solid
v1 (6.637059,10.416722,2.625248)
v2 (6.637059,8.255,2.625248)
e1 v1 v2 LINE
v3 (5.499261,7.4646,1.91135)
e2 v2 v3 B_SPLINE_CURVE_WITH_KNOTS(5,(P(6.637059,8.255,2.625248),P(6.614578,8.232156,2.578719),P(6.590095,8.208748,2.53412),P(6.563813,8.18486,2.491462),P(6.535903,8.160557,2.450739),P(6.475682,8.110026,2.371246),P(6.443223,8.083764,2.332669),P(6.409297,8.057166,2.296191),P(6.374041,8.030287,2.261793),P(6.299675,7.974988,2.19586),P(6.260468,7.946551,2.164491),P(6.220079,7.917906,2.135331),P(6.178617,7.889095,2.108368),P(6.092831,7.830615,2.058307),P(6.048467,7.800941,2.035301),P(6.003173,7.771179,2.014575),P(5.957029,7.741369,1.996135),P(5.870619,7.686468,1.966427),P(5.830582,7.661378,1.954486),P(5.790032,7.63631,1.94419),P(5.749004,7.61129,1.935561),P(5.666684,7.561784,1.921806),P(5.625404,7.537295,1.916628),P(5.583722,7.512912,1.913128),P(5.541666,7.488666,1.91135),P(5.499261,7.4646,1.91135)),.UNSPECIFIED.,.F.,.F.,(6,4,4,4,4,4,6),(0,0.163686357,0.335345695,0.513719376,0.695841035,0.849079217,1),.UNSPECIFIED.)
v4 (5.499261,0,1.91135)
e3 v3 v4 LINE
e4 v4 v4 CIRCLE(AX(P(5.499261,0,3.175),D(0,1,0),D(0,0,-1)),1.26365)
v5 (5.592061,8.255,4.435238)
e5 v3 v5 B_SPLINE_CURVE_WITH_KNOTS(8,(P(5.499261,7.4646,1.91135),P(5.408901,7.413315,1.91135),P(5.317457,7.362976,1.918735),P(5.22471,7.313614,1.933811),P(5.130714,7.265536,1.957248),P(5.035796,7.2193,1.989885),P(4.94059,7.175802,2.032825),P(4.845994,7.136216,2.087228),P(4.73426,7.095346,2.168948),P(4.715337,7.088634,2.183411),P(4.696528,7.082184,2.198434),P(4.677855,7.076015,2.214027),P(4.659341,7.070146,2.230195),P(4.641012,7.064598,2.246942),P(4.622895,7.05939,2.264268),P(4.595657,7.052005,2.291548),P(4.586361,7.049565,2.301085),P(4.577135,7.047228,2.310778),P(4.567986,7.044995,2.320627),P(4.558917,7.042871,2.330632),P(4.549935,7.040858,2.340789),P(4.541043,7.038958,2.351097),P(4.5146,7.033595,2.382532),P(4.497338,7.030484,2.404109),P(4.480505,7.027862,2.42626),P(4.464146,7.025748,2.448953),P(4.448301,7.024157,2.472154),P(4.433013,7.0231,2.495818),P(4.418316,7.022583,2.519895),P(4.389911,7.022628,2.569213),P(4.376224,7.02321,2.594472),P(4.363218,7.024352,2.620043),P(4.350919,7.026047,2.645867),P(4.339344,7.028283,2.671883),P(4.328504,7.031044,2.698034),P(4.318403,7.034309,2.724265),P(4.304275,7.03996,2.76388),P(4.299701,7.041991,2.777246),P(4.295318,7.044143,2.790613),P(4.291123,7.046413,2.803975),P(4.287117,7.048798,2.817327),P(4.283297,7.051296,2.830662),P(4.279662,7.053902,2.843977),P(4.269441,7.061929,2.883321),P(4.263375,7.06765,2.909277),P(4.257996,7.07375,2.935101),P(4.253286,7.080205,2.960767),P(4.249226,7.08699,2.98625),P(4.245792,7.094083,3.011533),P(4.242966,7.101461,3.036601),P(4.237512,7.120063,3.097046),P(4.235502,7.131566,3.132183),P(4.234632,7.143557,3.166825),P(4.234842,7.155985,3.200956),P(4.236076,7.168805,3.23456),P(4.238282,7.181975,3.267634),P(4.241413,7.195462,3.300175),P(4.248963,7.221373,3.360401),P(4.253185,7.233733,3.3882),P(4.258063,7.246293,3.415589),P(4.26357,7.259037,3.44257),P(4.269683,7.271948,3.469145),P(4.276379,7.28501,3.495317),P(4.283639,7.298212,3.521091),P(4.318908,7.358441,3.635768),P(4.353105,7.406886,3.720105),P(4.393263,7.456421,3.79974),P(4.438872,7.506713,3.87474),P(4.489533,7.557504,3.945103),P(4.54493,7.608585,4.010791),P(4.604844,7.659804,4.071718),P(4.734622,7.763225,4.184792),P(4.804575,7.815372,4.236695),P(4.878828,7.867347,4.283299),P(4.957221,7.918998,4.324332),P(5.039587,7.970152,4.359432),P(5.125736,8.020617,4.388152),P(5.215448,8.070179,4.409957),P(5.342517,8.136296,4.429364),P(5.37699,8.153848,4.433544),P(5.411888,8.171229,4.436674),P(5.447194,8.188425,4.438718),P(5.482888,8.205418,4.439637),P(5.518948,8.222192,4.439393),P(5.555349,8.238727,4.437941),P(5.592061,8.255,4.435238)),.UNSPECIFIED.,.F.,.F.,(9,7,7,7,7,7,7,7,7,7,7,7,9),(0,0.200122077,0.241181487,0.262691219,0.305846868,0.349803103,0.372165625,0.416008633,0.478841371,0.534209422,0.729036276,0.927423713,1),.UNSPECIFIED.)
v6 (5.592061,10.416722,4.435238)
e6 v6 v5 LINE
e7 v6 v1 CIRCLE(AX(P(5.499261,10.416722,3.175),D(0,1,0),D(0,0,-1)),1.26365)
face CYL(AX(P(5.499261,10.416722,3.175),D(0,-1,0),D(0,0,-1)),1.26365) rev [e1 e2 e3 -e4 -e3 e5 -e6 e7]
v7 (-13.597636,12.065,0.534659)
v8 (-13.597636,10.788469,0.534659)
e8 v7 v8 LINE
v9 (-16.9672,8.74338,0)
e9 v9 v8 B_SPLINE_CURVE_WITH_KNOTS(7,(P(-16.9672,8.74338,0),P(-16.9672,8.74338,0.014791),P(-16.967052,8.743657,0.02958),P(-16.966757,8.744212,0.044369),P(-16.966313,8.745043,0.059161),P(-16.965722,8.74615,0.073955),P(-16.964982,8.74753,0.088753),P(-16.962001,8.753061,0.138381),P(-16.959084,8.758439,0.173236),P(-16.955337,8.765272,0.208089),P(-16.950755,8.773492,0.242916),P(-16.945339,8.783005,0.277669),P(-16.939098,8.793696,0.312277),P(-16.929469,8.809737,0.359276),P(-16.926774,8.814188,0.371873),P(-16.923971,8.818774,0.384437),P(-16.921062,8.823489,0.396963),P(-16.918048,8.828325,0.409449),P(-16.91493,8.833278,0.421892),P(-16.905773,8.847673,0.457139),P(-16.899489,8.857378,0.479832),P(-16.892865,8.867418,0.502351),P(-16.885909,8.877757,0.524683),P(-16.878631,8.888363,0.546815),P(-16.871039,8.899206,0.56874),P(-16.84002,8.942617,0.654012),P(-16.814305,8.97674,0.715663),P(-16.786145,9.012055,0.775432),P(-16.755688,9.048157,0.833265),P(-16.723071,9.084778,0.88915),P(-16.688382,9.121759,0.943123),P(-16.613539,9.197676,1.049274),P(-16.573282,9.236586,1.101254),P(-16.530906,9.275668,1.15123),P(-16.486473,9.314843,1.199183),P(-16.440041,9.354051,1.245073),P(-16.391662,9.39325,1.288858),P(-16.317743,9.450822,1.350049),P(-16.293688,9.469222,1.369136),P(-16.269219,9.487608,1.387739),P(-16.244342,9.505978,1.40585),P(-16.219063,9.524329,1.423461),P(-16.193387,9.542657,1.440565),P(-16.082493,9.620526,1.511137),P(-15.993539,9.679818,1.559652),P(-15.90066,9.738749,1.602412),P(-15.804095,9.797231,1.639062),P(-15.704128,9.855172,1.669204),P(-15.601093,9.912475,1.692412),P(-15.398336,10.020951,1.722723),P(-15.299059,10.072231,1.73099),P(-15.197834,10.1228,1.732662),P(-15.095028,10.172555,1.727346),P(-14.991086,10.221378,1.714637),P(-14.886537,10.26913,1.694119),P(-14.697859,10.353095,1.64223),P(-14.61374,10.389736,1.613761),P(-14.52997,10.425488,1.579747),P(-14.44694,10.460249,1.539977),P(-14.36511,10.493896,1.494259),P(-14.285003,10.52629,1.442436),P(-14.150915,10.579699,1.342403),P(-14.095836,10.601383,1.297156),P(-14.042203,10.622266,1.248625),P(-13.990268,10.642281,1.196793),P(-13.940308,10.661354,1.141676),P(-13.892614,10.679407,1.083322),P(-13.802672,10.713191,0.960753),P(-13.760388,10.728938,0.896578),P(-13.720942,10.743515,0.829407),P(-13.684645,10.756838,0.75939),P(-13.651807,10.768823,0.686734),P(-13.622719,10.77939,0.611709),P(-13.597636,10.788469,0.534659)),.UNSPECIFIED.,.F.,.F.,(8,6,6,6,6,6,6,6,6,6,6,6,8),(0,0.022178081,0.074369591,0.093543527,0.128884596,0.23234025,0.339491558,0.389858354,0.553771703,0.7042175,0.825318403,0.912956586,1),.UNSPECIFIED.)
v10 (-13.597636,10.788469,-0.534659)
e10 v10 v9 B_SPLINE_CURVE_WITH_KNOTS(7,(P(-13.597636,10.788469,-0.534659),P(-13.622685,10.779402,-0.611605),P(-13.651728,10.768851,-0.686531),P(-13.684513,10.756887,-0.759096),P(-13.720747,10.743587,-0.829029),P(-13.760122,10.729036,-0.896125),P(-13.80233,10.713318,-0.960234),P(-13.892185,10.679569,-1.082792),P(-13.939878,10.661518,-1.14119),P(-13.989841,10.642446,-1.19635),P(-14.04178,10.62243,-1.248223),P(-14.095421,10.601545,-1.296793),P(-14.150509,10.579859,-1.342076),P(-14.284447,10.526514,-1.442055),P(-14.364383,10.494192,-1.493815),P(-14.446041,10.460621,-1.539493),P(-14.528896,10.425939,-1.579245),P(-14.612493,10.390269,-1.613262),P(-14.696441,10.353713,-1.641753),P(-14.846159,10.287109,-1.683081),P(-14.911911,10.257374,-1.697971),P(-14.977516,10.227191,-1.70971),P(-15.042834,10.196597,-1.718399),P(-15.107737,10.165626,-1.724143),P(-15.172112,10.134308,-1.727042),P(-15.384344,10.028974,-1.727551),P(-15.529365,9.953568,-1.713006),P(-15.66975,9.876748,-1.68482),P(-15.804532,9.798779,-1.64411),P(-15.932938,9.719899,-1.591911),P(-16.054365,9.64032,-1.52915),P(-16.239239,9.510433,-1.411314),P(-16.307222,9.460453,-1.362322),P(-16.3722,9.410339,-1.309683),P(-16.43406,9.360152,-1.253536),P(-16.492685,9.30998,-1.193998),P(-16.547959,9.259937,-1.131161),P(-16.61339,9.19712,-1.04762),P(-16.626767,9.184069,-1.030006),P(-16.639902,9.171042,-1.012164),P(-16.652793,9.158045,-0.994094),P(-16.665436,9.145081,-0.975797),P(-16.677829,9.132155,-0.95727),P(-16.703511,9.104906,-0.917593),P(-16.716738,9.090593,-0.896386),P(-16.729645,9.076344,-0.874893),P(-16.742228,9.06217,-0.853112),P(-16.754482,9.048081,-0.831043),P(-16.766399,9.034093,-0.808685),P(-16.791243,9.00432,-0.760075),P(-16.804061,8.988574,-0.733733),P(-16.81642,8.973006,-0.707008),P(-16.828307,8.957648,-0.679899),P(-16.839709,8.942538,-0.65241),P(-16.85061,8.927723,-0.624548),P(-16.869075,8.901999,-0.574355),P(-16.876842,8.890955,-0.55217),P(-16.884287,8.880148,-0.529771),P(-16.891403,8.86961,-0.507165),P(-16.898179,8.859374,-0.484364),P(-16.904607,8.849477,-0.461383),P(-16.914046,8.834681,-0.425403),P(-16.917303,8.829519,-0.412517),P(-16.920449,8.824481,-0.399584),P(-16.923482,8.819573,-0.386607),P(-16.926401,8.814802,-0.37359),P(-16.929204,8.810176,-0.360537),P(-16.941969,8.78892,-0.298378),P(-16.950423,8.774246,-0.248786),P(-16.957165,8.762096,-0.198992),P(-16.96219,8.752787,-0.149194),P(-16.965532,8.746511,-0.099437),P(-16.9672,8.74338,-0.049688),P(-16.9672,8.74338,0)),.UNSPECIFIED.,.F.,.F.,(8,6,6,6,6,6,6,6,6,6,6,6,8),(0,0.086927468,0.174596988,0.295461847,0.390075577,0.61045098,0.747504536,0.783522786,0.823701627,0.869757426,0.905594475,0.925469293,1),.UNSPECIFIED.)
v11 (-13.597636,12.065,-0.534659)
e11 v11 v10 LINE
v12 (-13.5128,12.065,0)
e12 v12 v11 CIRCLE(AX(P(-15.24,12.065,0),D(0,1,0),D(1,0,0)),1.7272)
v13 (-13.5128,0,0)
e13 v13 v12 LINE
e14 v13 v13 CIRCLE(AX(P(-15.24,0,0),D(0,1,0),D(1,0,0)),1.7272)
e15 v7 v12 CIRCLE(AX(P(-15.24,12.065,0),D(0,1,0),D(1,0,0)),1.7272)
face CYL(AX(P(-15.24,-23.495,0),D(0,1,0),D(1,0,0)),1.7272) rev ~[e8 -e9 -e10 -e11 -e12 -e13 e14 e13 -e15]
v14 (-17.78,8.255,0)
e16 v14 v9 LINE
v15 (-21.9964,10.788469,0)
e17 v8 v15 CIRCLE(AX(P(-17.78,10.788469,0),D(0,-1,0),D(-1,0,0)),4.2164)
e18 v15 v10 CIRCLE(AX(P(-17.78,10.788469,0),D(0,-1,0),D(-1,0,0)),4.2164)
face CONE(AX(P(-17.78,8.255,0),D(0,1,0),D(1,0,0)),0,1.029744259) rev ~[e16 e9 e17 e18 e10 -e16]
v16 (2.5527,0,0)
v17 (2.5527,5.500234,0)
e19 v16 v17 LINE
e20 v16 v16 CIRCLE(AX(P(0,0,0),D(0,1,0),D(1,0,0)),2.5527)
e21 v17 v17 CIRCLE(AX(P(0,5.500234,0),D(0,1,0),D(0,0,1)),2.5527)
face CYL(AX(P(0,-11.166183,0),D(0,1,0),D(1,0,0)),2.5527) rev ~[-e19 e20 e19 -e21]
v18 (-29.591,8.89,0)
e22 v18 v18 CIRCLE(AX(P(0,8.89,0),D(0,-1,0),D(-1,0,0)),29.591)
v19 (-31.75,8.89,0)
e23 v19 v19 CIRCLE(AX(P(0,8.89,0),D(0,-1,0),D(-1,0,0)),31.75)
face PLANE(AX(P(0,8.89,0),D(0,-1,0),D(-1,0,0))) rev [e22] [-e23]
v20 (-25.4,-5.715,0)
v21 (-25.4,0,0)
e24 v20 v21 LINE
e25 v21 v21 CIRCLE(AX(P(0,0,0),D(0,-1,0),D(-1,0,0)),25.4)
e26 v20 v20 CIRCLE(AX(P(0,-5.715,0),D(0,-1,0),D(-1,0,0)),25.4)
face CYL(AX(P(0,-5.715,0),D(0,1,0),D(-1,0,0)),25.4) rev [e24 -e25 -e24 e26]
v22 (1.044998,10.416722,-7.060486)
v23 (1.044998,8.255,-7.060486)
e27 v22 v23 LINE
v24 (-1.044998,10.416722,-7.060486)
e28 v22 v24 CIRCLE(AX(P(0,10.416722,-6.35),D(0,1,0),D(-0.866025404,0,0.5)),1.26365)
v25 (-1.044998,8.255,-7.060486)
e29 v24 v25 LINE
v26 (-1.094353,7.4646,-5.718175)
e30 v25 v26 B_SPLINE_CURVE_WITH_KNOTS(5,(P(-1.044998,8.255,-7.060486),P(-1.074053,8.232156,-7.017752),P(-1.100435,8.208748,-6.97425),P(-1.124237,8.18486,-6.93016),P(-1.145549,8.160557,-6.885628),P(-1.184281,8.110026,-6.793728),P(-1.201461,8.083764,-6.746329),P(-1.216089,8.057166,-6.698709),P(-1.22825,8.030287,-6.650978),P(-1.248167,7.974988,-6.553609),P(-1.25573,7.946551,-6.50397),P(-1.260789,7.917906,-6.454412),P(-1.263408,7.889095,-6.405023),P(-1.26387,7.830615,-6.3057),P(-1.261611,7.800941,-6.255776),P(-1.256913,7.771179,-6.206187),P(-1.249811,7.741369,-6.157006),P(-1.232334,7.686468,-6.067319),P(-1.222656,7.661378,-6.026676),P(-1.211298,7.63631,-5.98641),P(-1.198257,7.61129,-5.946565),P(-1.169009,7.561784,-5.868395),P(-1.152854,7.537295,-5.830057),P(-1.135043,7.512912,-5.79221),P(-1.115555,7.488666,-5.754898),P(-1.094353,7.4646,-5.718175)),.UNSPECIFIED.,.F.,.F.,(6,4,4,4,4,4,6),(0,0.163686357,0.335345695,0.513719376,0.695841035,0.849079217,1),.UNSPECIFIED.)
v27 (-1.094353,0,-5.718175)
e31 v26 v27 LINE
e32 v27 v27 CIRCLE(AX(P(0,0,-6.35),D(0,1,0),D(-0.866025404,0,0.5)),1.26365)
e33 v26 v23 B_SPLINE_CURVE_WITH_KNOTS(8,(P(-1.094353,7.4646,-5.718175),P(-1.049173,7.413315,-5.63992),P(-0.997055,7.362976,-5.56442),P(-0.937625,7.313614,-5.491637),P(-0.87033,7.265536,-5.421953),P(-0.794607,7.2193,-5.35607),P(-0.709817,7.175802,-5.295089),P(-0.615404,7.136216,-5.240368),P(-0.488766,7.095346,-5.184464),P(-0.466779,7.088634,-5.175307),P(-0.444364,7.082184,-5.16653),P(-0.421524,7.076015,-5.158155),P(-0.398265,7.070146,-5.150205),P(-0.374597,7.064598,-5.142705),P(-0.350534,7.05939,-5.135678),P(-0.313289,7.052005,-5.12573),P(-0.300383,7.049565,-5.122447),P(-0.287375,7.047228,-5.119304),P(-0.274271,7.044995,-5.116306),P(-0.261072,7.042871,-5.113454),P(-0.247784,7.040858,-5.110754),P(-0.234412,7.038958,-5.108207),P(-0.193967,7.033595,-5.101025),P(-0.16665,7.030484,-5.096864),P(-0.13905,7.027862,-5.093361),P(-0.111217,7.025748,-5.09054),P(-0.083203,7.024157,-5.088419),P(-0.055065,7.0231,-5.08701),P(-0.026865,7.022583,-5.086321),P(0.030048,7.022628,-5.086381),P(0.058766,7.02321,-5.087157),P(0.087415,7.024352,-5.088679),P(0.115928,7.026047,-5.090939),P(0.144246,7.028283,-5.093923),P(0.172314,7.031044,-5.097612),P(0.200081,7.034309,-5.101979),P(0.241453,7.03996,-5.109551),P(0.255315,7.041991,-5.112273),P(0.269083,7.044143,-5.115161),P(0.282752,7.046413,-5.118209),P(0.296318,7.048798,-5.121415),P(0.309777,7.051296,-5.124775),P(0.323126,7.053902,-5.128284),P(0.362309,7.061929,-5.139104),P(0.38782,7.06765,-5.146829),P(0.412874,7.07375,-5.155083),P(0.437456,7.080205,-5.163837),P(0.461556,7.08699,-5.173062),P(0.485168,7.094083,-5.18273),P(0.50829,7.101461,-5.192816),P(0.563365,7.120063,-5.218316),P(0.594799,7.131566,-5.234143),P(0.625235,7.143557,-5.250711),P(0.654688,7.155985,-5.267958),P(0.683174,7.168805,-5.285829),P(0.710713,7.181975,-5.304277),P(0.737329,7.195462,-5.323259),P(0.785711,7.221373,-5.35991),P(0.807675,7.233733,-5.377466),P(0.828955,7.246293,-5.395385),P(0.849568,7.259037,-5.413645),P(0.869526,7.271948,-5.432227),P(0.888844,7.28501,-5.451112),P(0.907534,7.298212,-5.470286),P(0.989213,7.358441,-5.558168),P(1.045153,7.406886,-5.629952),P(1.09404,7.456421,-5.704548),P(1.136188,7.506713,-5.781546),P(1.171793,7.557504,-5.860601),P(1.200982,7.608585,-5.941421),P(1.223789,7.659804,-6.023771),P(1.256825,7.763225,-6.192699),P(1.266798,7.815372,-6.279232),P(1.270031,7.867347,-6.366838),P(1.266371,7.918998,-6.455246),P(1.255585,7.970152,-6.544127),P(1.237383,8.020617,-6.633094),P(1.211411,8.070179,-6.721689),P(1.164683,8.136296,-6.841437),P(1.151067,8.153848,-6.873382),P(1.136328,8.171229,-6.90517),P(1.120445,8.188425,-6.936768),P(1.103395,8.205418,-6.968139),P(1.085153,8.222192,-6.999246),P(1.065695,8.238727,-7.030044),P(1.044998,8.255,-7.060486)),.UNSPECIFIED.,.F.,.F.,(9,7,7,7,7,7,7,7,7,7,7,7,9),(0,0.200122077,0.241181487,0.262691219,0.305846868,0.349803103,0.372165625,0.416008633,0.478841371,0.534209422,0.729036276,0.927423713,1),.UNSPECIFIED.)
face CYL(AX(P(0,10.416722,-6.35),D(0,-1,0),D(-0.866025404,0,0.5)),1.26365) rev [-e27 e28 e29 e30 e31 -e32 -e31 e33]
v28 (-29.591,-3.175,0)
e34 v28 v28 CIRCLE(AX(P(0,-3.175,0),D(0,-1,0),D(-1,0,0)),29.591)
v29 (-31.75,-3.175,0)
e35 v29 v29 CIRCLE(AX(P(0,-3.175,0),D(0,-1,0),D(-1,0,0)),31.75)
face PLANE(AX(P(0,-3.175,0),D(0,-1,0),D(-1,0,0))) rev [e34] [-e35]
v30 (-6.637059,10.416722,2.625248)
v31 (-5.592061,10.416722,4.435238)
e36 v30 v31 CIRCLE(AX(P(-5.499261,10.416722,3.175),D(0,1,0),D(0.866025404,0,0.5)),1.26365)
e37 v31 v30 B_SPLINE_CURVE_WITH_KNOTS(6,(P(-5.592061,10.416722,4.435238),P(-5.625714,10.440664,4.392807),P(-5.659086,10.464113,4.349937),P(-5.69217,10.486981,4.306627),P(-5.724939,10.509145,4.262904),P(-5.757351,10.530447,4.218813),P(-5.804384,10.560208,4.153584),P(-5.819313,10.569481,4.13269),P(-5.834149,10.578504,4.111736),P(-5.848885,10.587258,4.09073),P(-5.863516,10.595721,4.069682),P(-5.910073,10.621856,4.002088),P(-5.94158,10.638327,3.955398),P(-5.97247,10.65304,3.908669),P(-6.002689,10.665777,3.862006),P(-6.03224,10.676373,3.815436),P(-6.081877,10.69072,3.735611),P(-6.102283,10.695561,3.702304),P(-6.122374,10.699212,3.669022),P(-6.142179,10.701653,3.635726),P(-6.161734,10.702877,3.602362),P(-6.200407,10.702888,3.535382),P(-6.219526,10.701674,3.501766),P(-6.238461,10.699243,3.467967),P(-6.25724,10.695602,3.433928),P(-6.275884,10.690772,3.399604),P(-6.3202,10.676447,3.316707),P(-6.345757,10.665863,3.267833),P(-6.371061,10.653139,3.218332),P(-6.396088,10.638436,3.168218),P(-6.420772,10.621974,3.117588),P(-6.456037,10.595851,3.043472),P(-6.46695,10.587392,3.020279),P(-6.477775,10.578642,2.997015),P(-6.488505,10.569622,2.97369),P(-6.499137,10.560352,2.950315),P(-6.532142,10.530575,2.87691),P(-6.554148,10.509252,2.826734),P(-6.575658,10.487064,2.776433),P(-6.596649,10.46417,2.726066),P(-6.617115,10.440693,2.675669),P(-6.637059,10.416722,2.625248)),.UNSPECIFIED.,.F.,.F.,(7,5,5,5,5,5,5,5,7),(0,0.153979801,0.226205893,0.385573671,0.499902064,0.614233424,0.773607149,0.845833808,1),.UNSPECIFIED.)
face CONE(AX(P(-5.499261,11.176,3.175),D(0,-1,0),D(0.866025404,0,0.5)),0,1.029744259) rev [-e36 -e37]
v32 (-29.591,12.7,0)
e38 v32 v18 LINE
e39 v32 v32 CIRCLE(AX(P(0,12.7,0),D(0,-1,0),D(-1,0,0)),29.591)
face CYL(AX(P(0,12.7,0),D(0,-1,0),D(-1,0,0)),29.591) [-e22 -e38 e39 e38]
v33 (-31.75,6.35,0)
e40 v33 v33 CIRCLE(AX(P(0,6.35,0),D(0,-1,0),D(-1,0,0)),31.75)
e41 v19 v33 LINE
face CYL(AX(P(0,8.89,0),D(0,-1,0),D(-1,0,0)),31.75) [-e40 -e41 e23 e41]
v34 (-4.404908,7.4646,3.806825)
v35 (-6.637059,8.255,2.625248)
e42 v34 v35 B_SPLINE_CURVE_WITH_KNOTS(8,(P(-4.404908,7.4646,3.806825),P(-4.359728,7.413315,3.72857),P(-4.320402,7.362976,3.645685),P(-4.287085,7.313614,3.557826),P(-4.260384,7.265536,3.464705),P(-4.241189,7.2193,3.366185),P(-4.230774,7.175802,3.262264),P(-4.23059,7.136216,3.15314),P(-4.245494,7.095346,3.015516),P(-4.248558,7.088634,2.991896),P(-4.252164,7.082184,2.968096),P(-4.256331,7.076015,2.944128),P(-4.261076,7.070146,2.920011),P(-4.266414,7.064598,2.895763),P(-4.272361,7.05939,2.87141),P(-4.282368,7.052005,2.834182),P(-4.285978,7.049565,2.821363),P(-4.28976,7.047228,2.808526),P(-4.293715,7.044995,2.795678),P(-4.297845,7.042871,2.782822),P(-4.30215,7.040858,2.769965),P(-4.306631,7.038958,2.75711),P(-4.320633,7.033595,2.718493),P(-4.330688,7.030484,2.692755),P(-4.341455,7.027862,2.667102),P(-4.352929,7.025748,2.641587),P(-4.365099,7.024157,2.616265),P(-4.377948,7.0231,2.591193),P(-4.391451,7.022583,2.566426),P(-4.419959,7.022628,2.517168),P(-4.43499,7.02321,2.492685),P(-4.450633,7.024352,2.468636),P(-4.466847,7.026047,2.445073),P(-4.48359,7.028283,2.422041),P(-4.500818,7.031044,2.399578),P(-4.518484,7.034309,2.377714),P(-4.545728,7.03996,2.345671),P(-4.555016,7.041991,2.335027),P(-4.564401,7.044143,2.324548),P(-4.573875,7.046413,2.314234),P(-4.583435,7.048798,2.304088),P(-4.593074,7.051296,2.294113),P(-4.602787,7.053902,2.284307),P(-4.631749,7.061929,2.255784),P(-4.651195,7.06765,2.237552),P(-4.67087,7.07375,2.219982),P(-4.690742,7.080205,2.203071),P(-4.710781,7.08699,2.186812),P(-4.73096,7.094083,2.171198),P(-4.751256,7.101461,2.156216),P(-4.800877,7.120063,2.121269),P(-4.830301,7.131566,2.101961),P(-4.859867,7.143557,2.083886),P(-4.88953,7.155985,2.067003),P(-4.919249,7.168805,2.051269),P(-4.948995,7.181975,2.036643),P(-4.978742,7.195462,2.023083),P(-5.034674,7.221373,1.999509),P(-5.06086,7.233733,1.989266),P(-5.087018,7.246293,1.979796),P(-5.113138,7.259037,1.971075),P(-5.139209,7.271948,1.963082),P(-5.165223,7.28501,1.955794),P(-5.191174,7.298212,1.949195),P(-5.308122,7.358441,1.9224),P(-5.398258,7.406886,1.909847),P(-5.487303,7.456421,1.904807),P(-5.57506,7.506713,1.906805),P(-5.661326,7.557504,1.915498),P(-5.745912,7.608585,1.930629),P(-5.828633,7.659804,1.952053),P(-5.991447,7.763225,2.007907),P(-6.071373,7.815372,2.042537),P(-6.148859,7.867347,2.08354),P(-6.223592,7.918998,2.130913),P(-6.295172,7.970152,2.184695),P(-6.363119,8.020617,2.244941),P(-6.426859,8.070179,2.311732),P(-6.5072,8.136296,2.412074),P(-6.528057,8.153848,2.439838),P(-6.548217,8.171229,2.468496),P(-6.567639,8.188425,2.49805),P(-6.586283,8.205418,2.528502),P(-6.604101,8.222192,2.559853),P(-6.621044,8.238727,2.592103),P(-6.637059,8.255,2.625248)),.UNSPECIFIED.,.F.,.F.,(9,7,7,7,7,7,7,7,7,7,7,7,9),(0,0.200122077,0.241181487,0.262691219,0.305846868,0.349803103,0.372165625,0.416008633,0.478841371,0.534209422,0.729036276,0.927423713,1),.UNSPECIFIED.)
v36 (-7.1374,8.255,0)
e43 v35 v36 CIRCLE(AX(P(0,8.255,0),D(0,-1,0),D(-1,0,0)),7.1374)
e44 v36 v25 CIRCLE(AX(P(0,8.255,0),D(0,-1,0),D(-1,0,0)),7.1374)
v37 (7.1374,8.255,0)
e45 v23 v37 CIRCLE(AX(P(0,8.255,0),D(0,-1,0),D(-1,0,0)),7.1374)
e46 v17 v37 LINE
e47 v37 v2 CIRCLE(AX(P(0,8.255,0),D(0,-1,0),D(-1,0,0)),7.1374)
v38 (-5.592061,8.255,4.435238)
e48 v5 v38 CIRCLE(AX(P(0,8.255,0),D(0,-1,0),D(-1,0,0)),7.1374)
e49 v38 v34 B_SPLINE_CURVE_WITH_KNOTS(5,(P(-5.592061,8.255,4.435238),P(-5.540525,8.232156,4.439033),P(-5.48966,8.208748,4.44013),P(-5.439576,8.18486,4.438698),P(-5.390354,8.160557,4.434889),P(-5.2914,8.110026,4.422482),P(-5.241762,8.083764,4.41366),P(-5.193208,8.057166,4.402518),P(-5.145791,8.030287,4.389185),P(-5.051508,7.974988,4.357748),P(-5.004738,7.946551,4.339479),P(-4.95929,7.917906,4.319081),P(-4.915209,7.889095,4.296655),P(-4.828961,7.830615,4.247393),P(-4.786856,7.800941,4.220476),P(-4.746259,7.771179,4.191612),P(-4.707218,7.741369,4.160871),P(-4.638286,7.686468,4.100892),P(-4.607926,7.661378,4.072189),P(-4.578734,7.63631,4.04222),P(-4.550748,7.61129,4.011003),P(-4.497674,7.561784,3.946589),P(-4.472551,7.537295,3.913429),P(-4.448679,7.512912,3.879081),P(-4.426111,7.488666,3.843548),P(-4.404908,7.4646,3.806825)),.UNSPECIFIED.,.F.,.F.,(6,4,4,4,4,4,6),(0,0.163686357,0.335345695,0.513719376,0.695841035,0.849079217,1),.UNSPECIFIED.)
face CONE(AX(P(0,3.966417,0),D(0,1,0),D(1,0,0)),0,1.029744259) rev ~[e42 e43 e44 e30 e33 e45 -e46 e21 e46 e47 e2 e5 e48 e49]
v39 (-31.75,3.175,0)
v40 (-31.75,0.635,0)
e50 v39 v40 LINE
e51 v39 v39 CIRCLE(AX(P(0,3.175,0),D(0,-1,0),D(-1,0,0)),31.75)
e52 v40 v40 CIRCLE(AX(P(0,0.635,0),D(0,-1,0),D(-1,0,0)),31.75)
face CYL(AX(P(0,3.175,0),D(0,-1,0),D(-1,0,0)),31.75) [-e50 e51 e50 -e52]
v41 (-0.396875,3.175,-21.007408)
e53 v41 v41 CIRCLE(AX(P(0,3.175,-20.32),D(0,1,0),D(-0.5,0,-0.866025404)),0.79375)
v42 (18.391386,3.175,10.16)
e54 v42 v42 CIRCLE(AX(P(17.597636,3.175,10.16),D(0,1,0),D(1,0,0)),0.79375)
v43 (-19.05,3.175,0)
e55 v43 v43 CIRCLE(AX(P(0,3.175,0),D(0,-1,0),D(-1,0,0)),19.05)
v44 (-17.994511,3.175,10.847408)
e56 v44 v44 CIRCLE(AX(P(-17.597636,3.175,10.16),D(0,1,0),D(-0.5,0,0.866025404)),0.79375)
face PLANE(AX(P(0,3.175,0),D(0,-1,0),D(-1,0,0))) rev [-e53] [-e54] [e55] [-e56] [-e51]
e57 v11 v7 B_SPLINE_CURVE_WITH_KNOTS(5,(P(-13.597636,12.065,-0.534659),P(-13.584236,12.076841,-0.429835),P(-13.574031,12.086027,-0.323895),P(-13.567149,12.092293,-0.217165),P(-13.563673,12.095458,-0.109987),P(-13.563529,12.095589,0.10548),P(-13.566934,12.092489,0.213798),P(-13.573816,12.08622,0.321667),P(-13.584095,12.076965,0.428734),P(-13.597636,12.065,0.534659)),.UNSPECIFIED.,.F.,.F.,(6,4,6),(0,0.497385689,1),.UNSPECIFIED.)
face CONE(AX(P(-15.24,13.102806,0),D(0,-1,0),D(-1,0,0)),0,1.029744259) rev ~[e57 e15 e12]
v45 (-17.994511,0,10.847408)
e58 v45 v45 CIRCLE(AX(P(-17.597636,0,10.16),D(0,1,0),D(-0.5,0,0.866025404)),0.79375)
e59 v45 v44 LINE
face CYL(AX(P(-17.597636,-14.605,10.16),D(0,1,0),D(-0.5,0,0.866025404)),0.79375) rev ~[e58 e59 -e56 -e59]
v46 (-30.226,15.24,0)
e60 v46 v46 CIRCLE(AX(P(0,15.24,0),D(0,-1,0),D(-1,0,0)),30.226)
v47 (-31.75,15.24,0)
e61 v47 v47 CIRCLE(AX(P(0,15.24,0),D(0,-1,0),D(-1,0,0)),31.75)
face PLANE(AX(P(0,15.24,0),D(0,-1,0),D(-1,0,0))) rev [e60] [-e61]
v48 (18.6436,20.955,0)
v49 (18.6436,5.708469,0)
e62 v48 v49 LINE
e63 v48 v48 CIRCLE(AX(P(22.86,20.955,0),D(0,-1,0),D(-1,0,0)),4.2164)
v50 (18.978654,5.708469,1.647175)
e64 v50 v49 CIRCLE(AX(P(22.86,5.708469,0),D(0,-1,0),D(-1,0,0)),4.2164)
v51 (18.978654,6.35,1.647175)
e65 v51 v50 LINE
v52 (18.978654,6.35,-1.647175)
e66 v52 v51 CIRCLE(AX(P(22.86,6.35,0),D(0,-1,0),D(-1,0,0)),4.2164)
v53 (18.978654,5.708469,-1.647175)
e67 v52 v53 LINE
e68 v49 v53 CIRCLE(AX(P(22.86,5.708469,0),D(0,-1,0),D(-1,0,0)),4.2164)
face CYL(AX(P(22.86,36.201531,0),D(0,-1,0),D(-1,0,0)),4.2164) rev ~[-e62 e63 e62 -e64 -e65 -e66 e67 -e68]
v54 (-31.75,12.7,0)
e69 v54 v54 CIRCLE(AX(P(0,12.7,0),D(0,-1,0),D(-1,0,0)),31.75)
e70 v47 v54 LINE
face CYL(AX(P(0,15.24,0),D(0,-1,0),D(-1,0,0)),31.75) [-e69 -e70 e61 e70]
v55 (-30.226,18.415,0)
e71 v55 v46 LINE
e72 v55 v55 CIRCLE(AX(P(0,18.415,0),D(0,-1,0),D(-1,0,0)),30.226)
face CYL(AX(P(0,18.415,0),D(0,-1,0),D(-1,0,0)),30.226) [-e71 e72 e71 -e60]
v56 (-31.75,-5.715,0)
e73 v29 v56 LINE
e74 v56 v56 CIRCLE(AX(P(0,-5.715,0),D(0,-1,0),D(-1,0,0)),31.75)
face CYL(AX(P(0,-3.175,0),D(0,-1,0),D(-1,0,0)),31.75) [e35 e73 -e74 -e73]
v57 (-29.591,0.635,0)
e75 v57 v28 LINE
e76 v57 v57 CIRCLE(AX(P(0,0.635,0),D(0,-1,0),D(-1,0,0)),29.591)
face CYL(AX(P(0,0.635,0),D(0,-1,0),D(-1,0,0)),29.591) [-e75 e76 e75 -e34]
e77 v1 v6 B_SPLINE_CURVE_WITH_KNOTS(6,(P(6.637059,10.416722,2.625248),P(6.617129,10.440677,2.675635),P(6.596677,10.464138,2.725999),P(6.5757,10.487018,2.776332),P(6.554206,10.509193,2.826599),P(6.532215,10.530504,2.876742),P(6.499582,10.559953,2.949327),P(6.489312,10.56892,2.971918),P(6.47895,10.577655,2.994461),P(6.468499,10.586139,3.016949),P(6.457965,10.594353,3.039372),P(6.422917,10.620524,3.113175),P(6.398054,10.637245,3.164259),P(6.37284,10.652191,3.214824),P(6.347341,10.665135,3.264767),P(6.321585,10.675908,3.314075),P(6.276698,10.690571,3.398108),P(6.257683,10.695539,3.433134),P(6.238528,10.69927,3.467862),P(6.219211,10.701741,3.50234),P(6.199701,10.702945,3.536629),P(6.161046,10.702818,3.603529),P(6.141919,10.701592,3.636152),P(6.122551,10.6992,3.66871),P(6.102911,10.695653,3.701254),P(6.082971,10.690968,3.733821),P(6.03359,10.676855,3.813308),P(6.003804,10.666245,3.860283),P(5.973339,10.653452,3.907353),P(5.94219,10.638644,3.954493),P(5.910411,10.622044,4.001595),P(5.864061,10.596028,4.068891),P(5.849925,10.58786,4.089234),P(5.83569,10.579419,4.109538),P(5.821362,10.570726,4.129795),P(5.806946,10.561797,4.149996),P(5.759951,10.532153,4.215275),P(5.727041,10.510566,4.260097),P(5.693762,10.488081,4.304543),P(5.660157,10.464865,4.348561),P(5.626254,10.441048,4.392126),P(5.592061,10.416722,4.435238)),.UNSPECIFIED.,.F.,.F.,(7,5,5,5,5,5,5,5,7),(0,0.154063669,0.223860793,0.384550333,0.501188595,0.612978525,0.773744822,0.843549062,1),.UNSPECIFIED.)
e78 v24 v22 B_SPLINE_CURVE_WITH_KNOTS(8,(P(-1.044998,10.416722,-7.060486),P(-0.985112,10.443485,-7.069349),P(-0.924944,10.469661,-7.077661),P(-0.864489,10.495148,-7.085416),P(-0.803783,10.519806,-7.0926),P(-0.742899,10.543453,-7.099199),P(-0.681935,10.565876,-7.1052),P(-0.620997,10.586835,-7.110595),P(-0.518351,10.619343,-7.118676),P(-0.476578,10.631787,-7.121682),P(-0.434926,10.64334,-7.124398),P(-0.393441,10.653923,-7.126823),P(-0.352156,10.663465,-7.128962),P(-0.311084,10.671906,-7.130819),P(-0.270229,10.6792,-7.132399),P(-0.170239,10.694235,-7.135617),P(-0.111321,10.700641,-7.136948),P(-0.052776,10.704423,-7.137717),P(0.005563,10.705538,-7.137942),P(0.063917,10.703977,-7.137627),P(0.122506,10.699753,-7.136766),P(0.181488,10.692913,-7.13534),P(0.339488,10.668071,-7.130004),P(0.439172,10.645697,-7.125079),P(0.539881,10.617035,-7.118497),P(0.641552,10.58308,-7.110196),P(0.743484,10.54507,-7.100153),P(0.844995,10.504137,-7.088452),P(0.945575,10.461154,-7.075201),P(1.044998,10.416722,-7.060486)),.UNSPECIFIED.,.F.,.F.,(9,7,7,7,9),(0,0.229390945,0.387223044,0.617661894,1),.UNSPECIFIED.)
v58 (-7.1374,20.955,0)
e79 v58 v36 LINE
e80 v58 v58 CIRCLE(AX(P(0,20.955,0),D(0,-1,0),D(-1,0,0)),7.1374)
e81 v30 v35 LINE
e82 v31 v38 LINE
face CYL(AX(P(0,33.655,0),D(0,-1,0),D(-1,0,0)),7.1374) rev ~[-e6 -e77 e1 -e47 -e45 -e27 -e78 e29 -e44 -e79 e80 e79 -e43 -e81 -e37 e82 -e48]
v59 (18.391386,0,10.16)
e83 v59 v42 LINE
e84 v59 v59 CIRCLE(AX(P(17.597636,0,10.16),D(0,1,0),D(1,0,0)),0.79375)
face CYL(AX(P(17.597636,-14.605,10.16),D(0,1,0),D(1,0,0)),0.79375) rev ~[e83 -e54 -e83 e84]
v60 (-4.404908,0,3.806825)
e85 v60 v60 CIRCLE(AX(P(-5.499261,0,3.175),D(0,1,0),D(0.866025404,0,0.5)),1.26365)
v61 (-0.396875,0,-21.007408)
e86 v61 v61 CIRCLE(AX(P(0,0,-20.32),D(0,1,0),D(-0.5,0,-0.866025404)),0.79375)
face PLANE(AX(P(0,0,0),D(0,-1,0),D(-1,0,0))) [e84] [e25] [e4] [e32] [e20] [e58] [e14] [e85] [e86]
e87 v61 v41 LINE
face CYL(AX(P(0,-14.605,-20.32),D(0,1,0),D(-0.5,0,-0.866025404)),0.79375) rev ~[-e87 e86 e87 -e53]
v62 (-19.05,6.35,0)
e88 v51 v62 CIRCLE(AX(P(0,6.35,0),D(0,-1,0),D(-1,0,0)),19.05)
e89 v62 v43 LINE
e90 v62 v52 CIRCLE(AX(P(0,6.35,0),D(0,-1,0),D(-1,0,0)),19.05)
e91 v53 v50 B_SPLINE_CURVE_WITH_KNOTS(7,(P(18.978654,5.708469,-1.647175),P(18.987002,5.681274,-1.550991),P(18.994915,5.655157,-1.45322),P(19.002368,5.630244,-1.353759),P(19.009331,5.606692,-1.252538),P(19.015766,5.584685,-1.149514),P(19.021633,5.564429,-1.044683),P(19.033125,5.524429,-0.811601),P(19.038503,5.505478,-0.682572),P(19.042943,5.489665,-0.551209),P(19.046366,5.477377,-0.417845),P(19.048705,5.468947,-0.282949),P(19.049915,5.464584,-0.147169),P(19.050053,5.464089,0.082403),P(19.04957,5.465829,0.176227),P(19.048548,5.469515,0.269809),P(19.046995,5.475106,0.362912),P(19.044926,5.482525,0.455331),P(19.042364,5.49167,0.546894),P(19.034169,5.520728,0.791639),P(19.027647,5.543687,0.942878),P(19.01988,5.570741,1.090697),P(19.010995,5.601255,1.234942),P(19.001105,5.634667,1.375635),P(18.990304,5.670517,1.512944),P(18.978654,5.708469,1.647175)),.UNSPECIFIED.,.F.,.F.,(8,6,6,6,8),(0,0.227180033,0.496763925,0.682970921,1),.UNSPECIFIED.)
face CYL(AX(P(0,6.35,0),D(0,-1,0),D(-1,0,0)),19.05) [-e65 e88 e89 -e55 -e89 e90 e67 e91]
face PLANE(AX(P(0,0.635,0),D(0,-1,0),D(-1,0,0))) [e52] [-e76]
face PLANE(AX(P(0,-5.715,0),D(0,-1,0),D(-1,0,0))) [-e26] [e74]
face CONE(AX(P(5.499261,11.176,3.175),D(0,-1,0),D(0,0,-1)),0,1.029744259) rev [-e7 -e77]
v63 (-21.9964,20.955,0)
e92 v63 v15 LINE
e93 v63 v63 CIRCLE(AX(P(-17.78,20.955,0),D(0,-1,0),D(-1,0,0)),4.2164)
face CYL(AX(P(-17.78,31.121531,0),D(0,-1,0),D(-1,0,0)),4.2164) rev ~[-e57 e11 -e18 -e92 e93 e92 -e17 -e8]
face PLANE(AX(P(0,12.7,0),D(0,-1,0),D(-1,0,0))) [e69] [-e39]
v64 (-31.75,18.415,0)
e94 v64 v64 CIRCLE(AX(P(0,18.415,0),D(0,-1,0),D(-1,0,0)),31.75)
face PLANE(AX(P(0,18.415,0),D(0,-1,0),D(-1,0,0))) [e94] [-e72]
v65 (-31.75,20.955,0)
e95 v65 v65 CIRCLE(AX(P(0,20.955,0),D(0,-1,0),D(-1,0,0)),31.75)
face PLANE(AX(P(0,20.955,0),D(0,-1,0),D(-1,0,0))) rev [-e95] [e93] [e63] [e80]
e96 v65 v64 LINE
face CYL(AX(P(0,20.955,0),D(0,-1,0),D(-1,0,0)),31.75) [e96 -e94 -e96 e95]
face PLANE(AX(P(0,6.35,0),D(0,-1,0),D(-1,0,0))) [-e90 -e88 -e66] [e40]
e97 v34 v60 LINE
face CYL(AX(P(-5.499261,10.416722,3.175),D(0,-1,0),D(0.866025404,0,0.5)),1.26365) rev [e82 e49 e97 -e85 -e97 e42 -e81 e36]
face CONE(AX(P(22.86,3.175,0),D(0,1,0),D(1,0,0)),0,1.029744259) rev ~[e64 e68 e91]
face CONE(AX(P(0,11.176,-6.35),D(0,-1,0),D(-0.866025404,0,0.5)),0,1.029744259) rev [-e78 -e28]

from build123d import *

# Parameters (mm, degrees)
PIPE_TAP_DRILL_FOR_1_8_TAP1_D      = 8.4328
PIPE_TAP_DRILL_FOR_1_8_TAP1_DEPTH  = 15.246531286
PIPE_TAP_DRILL_FOR_1_8_TAP1_TIP    = 2.533468714
PIPE_TAP_DRILL_FOR_3_8_TAP2_D      = 14.2748
PIPE_TAP_DRILL_FOR_3_8_TAP2_DEPTH  = 12.7
PIPE_TAP_DRILL_FOR_3_8_TAP2_TIP    = 4.288582582
CIRPATTERN4_COUNT                  = 3
PIPE_TAP_DRILL_FOR_1_8_TAP2_D      = 8.4328
PIPE_TAP_DRILL_FOR_1_8_TAP2_DEPTH  = 10.166531286
PIPE_TAP_DRILL_FOR_1_8_TAP2_TIP    = 2.533468714
F_1_16_0_0625_DIAMETER_HOLE1_D     = 1.5875
F_1_16_0_0625_DIAMETER_HOLE1_DEPTH = 8.89
F_1_4_20_TAPPED_HOLE1_D            = 5.1054
F_1_4_20_TAPPED_HOLE1_DEPTH        = 11.166183098
F_1_4_20_TAPPED_HOLE1_TIP          = 1.533816902
F_29_0_136_DIAMETER_HOLE4_D        = 3.4544
F_29_0_136_DIAMETER_HOLE4_DEPTH    = 17.78
F_29_0_136_DIAMETER_HOLE4_TIP      = 1.037806461
CIRPATTERN3_COUNT                  = 3


with BuildPart() as part:
    # Sketch1 → Revolve1 (revolve)
    with BuildSketch(Plane.XY):
        Polygon((-31.75, 12.7), (-29.591, 12.7), (-29.591, 8.89), (-31.75, 8.89), (-31.75, 6.35), (-19.05, 6.35), (-19.05, 3.175), (-31.75, 3.175), (-31.75, 0.635), (-29.591, 0.635), (-29.591, -3.175), (-31.75, -3.175), (-31.75, -5.715), (-25.4, -5.715), (-25.4, 0), (0, 0), (0, 20.955), (-31.75, 20.955), (-31.75, 18.415), (-30.226, 18.415), (-30.226, 15.24), (-31.75, 15.24), align=None)
    revolve(axis=Axis((0, 26.246011395, 0), (0, -1, 0)))

    # Pipe Tap Drill for 1/8 Tap1
    with Locations(Plane(origin=(0, 20.955, 0), x_dir=(1, 0, 0), z_dir=(0, 1, 0))):
        with Locations((22.86, 0)):
            Hole(PIPE_TAP_DRILL_FOR_1_8_TAP1_D / 2, depth=PIPE_TAP_DRILL_FOR_1_8_TAP1_DEPTH)
            with Locations((0, 0, -(PIPE_TAP_DRILL_FOR_1_8_TAP1_DEPTH + PIPE_TAP_DRILL_FOR_1_8_TAP1_TIP / 2))):  # 118° drill point
                Cone(0, PIPE_TAP_DRILL_FOR_1_8_TAP1_D / 2, PIPE_TAP_DRILL_FOR_1_8_TAP1_TIP, mode=Mode.SUBTRACT)

    # Pipe Tap Drill for 3/8 Tap2
    with Locations(Plane(origin=(0, 20.955, 0), x_dir=(1, 0, 0), z_dir=(0, 1, 0))):
        with Locations((0, 0)):
            Hole(PIPE_TAP_DRILL_FOR_3_8_TAP2_D / 2, depth=PIPE_TAP_DRILL_FOR_3_8_TAP2_DEPTH)
            with Locations((0, 0, -(PIPE_TAP_DRILL_FOR_3_8_TAP2_DEPTH + PIPE_TAP_DRILL_FOR_3_8_TAP2_TIP / 2))):  # 118° drill point
                Cone(0, PIPE_TAP_DRILL_FOR_3_8_TAP2_D / 2, PIPE_TAP_DRILL_FOR_3_8_TAP2_TIP, mode=Mode.SUBTRACT)

    # Sketch7 → #39 (0.0995) Diameter Hole1 (revolve, cut)
    with BuildSketch(Plane(origin=(5.499261314, 0, 3.175), x_dir=(0, 0, -1), z_dir=(1, 0, 0))):
        Polygon((0, 0), (0, 11.176), (1.26365, 10.416722479), (1.26365, 0), align=None)
    f_39_0_0995_diameter_hole1 = revolve(axis=Axis((5.499261314, -6.35, 3.175), (0, 1, 0)), mode=Mode.SUBTRACT)

    # CirPattern4: #39 (0.0995) Diameter Hole1 ×3 about axis
    cirpattern4_axis = Axis((0, 0, 0), (0, 1, 0))
    for i in range(1, CIRPATTERN4_COUNT):
        add(f_39_0_0995_diameter_hole1.rotate(cirpattern4_axis, i * 360 / CIRPATTERN4_COUNT), mode=Mode.SUBTRACT)

    # Pipe Tap Drill for 1/8 Tap2
    with Locations(Plane(origin=(0, 20.955, 0), x_dir=(1, 0, 0), z_dir=(0, 1, 0))):
        with Locations((-17.78, 0)):
            Hole(PIPE_TAP_DRILL_FOR_1_8_TAP2_D / 2, depth=PIPE_TAP_DRILL_FOR_1_8_TAP2_DEPTH)
            with Locations((0, 0, -(PIPE_TAP_DRILL_FOR_1_8_TAP2_DEPTH + PIPE_TAP_DRILL_FOR_1_8_TAP2_TIP / 2))):  # 118° drill point
                Cone(0, PIPE_TAP_DRILL_FOR_1_8_TAP2_D / 2, PIPE_TAP_DRILL_FOR_1_8_TAP2_TIP, mode=Mode.SUBTRACT)

    # 1/16 (0.0625) Diameter Hole1
    with Locations(Plane(origin=(0, -5.715, 0), x_dir=(-1, 0, 0), z_dir=(0, -1, 0))):
        with Locations((-17.597636205, -10.16)):
            f_1_16_0_0625_diameter_hole1 = Hole(F_1_16_0_0625_DIAMETER_HOLE1_D / 2, depth=F_1_16_0_0625_DIAMETER_HOLE1_DEPTH)

    # 1/4-20 Tapped Hole1
    with Locations(Plane(origin=(0, 0, 0), x_dir=(-1, 0, 0), z_dir=(0, -1, 0))):
        with Locations((0, 0)):
            Hole(F_1_4_20_TAPPED_HOLE1_D / 2, depth=F_1_4_20_TAPPED_HOLE1_DEPTH)
            with Locations((0, 0, -(F_1_4_20_TAPPED_HOLE1_DEPTH + F_1_4_20_TAPPED_HOLE1_TIP / 2))):  # 118° drill point
                Cone(0, F_1_4_20_TAPPED_HOLE1_D / 2, F_1_4_20_TAPPED_HOLE1_TIP, mode=Mode.SUBTRACT)

    # #29 (0.136) Diameter Hole4
    with Locations(Plane(origin=(0, -5.715, 0), x_dir=(-1, 0, 0), z_dir=(0, -1, 0))):
        with Locations((15.24, 0)):
            Hole(F_29_0_136_DIAMETER_HOLE4_D / 2, depth=F_29_0_136_DIAMETER_HOLE4_DEPTH)
            with Locations((0, 0, -(F_29_0_136_DIAMETER_HOLE4_DEPTH + F_29_0_136_DIAMETER_HOLE4_TIP / 2))):  # 118° drill point
                Cone(0, F_29_0_136_DIAMETER_HOLE4_D / 2, F_29_0_136_DIAMETER_HOLE4_TIP, mode=Mode.SUBTRACT)

    # CirPattern3: 1/16 (0.0625) Diameter Hole1 ×3 about axis
    cirpattern3_axis = Axis((0, 0, 0), (0, 1, 0))
    for i in range(1, CIRPATTERN3_COUNT):
        add(f_1_16_0_0625_diameter_hole1.rotate(cirpattern3_axis, i * 360 / CIRPATTERN3_COUNT), mode=Mode.SUBTRACT)


solid = part.part
